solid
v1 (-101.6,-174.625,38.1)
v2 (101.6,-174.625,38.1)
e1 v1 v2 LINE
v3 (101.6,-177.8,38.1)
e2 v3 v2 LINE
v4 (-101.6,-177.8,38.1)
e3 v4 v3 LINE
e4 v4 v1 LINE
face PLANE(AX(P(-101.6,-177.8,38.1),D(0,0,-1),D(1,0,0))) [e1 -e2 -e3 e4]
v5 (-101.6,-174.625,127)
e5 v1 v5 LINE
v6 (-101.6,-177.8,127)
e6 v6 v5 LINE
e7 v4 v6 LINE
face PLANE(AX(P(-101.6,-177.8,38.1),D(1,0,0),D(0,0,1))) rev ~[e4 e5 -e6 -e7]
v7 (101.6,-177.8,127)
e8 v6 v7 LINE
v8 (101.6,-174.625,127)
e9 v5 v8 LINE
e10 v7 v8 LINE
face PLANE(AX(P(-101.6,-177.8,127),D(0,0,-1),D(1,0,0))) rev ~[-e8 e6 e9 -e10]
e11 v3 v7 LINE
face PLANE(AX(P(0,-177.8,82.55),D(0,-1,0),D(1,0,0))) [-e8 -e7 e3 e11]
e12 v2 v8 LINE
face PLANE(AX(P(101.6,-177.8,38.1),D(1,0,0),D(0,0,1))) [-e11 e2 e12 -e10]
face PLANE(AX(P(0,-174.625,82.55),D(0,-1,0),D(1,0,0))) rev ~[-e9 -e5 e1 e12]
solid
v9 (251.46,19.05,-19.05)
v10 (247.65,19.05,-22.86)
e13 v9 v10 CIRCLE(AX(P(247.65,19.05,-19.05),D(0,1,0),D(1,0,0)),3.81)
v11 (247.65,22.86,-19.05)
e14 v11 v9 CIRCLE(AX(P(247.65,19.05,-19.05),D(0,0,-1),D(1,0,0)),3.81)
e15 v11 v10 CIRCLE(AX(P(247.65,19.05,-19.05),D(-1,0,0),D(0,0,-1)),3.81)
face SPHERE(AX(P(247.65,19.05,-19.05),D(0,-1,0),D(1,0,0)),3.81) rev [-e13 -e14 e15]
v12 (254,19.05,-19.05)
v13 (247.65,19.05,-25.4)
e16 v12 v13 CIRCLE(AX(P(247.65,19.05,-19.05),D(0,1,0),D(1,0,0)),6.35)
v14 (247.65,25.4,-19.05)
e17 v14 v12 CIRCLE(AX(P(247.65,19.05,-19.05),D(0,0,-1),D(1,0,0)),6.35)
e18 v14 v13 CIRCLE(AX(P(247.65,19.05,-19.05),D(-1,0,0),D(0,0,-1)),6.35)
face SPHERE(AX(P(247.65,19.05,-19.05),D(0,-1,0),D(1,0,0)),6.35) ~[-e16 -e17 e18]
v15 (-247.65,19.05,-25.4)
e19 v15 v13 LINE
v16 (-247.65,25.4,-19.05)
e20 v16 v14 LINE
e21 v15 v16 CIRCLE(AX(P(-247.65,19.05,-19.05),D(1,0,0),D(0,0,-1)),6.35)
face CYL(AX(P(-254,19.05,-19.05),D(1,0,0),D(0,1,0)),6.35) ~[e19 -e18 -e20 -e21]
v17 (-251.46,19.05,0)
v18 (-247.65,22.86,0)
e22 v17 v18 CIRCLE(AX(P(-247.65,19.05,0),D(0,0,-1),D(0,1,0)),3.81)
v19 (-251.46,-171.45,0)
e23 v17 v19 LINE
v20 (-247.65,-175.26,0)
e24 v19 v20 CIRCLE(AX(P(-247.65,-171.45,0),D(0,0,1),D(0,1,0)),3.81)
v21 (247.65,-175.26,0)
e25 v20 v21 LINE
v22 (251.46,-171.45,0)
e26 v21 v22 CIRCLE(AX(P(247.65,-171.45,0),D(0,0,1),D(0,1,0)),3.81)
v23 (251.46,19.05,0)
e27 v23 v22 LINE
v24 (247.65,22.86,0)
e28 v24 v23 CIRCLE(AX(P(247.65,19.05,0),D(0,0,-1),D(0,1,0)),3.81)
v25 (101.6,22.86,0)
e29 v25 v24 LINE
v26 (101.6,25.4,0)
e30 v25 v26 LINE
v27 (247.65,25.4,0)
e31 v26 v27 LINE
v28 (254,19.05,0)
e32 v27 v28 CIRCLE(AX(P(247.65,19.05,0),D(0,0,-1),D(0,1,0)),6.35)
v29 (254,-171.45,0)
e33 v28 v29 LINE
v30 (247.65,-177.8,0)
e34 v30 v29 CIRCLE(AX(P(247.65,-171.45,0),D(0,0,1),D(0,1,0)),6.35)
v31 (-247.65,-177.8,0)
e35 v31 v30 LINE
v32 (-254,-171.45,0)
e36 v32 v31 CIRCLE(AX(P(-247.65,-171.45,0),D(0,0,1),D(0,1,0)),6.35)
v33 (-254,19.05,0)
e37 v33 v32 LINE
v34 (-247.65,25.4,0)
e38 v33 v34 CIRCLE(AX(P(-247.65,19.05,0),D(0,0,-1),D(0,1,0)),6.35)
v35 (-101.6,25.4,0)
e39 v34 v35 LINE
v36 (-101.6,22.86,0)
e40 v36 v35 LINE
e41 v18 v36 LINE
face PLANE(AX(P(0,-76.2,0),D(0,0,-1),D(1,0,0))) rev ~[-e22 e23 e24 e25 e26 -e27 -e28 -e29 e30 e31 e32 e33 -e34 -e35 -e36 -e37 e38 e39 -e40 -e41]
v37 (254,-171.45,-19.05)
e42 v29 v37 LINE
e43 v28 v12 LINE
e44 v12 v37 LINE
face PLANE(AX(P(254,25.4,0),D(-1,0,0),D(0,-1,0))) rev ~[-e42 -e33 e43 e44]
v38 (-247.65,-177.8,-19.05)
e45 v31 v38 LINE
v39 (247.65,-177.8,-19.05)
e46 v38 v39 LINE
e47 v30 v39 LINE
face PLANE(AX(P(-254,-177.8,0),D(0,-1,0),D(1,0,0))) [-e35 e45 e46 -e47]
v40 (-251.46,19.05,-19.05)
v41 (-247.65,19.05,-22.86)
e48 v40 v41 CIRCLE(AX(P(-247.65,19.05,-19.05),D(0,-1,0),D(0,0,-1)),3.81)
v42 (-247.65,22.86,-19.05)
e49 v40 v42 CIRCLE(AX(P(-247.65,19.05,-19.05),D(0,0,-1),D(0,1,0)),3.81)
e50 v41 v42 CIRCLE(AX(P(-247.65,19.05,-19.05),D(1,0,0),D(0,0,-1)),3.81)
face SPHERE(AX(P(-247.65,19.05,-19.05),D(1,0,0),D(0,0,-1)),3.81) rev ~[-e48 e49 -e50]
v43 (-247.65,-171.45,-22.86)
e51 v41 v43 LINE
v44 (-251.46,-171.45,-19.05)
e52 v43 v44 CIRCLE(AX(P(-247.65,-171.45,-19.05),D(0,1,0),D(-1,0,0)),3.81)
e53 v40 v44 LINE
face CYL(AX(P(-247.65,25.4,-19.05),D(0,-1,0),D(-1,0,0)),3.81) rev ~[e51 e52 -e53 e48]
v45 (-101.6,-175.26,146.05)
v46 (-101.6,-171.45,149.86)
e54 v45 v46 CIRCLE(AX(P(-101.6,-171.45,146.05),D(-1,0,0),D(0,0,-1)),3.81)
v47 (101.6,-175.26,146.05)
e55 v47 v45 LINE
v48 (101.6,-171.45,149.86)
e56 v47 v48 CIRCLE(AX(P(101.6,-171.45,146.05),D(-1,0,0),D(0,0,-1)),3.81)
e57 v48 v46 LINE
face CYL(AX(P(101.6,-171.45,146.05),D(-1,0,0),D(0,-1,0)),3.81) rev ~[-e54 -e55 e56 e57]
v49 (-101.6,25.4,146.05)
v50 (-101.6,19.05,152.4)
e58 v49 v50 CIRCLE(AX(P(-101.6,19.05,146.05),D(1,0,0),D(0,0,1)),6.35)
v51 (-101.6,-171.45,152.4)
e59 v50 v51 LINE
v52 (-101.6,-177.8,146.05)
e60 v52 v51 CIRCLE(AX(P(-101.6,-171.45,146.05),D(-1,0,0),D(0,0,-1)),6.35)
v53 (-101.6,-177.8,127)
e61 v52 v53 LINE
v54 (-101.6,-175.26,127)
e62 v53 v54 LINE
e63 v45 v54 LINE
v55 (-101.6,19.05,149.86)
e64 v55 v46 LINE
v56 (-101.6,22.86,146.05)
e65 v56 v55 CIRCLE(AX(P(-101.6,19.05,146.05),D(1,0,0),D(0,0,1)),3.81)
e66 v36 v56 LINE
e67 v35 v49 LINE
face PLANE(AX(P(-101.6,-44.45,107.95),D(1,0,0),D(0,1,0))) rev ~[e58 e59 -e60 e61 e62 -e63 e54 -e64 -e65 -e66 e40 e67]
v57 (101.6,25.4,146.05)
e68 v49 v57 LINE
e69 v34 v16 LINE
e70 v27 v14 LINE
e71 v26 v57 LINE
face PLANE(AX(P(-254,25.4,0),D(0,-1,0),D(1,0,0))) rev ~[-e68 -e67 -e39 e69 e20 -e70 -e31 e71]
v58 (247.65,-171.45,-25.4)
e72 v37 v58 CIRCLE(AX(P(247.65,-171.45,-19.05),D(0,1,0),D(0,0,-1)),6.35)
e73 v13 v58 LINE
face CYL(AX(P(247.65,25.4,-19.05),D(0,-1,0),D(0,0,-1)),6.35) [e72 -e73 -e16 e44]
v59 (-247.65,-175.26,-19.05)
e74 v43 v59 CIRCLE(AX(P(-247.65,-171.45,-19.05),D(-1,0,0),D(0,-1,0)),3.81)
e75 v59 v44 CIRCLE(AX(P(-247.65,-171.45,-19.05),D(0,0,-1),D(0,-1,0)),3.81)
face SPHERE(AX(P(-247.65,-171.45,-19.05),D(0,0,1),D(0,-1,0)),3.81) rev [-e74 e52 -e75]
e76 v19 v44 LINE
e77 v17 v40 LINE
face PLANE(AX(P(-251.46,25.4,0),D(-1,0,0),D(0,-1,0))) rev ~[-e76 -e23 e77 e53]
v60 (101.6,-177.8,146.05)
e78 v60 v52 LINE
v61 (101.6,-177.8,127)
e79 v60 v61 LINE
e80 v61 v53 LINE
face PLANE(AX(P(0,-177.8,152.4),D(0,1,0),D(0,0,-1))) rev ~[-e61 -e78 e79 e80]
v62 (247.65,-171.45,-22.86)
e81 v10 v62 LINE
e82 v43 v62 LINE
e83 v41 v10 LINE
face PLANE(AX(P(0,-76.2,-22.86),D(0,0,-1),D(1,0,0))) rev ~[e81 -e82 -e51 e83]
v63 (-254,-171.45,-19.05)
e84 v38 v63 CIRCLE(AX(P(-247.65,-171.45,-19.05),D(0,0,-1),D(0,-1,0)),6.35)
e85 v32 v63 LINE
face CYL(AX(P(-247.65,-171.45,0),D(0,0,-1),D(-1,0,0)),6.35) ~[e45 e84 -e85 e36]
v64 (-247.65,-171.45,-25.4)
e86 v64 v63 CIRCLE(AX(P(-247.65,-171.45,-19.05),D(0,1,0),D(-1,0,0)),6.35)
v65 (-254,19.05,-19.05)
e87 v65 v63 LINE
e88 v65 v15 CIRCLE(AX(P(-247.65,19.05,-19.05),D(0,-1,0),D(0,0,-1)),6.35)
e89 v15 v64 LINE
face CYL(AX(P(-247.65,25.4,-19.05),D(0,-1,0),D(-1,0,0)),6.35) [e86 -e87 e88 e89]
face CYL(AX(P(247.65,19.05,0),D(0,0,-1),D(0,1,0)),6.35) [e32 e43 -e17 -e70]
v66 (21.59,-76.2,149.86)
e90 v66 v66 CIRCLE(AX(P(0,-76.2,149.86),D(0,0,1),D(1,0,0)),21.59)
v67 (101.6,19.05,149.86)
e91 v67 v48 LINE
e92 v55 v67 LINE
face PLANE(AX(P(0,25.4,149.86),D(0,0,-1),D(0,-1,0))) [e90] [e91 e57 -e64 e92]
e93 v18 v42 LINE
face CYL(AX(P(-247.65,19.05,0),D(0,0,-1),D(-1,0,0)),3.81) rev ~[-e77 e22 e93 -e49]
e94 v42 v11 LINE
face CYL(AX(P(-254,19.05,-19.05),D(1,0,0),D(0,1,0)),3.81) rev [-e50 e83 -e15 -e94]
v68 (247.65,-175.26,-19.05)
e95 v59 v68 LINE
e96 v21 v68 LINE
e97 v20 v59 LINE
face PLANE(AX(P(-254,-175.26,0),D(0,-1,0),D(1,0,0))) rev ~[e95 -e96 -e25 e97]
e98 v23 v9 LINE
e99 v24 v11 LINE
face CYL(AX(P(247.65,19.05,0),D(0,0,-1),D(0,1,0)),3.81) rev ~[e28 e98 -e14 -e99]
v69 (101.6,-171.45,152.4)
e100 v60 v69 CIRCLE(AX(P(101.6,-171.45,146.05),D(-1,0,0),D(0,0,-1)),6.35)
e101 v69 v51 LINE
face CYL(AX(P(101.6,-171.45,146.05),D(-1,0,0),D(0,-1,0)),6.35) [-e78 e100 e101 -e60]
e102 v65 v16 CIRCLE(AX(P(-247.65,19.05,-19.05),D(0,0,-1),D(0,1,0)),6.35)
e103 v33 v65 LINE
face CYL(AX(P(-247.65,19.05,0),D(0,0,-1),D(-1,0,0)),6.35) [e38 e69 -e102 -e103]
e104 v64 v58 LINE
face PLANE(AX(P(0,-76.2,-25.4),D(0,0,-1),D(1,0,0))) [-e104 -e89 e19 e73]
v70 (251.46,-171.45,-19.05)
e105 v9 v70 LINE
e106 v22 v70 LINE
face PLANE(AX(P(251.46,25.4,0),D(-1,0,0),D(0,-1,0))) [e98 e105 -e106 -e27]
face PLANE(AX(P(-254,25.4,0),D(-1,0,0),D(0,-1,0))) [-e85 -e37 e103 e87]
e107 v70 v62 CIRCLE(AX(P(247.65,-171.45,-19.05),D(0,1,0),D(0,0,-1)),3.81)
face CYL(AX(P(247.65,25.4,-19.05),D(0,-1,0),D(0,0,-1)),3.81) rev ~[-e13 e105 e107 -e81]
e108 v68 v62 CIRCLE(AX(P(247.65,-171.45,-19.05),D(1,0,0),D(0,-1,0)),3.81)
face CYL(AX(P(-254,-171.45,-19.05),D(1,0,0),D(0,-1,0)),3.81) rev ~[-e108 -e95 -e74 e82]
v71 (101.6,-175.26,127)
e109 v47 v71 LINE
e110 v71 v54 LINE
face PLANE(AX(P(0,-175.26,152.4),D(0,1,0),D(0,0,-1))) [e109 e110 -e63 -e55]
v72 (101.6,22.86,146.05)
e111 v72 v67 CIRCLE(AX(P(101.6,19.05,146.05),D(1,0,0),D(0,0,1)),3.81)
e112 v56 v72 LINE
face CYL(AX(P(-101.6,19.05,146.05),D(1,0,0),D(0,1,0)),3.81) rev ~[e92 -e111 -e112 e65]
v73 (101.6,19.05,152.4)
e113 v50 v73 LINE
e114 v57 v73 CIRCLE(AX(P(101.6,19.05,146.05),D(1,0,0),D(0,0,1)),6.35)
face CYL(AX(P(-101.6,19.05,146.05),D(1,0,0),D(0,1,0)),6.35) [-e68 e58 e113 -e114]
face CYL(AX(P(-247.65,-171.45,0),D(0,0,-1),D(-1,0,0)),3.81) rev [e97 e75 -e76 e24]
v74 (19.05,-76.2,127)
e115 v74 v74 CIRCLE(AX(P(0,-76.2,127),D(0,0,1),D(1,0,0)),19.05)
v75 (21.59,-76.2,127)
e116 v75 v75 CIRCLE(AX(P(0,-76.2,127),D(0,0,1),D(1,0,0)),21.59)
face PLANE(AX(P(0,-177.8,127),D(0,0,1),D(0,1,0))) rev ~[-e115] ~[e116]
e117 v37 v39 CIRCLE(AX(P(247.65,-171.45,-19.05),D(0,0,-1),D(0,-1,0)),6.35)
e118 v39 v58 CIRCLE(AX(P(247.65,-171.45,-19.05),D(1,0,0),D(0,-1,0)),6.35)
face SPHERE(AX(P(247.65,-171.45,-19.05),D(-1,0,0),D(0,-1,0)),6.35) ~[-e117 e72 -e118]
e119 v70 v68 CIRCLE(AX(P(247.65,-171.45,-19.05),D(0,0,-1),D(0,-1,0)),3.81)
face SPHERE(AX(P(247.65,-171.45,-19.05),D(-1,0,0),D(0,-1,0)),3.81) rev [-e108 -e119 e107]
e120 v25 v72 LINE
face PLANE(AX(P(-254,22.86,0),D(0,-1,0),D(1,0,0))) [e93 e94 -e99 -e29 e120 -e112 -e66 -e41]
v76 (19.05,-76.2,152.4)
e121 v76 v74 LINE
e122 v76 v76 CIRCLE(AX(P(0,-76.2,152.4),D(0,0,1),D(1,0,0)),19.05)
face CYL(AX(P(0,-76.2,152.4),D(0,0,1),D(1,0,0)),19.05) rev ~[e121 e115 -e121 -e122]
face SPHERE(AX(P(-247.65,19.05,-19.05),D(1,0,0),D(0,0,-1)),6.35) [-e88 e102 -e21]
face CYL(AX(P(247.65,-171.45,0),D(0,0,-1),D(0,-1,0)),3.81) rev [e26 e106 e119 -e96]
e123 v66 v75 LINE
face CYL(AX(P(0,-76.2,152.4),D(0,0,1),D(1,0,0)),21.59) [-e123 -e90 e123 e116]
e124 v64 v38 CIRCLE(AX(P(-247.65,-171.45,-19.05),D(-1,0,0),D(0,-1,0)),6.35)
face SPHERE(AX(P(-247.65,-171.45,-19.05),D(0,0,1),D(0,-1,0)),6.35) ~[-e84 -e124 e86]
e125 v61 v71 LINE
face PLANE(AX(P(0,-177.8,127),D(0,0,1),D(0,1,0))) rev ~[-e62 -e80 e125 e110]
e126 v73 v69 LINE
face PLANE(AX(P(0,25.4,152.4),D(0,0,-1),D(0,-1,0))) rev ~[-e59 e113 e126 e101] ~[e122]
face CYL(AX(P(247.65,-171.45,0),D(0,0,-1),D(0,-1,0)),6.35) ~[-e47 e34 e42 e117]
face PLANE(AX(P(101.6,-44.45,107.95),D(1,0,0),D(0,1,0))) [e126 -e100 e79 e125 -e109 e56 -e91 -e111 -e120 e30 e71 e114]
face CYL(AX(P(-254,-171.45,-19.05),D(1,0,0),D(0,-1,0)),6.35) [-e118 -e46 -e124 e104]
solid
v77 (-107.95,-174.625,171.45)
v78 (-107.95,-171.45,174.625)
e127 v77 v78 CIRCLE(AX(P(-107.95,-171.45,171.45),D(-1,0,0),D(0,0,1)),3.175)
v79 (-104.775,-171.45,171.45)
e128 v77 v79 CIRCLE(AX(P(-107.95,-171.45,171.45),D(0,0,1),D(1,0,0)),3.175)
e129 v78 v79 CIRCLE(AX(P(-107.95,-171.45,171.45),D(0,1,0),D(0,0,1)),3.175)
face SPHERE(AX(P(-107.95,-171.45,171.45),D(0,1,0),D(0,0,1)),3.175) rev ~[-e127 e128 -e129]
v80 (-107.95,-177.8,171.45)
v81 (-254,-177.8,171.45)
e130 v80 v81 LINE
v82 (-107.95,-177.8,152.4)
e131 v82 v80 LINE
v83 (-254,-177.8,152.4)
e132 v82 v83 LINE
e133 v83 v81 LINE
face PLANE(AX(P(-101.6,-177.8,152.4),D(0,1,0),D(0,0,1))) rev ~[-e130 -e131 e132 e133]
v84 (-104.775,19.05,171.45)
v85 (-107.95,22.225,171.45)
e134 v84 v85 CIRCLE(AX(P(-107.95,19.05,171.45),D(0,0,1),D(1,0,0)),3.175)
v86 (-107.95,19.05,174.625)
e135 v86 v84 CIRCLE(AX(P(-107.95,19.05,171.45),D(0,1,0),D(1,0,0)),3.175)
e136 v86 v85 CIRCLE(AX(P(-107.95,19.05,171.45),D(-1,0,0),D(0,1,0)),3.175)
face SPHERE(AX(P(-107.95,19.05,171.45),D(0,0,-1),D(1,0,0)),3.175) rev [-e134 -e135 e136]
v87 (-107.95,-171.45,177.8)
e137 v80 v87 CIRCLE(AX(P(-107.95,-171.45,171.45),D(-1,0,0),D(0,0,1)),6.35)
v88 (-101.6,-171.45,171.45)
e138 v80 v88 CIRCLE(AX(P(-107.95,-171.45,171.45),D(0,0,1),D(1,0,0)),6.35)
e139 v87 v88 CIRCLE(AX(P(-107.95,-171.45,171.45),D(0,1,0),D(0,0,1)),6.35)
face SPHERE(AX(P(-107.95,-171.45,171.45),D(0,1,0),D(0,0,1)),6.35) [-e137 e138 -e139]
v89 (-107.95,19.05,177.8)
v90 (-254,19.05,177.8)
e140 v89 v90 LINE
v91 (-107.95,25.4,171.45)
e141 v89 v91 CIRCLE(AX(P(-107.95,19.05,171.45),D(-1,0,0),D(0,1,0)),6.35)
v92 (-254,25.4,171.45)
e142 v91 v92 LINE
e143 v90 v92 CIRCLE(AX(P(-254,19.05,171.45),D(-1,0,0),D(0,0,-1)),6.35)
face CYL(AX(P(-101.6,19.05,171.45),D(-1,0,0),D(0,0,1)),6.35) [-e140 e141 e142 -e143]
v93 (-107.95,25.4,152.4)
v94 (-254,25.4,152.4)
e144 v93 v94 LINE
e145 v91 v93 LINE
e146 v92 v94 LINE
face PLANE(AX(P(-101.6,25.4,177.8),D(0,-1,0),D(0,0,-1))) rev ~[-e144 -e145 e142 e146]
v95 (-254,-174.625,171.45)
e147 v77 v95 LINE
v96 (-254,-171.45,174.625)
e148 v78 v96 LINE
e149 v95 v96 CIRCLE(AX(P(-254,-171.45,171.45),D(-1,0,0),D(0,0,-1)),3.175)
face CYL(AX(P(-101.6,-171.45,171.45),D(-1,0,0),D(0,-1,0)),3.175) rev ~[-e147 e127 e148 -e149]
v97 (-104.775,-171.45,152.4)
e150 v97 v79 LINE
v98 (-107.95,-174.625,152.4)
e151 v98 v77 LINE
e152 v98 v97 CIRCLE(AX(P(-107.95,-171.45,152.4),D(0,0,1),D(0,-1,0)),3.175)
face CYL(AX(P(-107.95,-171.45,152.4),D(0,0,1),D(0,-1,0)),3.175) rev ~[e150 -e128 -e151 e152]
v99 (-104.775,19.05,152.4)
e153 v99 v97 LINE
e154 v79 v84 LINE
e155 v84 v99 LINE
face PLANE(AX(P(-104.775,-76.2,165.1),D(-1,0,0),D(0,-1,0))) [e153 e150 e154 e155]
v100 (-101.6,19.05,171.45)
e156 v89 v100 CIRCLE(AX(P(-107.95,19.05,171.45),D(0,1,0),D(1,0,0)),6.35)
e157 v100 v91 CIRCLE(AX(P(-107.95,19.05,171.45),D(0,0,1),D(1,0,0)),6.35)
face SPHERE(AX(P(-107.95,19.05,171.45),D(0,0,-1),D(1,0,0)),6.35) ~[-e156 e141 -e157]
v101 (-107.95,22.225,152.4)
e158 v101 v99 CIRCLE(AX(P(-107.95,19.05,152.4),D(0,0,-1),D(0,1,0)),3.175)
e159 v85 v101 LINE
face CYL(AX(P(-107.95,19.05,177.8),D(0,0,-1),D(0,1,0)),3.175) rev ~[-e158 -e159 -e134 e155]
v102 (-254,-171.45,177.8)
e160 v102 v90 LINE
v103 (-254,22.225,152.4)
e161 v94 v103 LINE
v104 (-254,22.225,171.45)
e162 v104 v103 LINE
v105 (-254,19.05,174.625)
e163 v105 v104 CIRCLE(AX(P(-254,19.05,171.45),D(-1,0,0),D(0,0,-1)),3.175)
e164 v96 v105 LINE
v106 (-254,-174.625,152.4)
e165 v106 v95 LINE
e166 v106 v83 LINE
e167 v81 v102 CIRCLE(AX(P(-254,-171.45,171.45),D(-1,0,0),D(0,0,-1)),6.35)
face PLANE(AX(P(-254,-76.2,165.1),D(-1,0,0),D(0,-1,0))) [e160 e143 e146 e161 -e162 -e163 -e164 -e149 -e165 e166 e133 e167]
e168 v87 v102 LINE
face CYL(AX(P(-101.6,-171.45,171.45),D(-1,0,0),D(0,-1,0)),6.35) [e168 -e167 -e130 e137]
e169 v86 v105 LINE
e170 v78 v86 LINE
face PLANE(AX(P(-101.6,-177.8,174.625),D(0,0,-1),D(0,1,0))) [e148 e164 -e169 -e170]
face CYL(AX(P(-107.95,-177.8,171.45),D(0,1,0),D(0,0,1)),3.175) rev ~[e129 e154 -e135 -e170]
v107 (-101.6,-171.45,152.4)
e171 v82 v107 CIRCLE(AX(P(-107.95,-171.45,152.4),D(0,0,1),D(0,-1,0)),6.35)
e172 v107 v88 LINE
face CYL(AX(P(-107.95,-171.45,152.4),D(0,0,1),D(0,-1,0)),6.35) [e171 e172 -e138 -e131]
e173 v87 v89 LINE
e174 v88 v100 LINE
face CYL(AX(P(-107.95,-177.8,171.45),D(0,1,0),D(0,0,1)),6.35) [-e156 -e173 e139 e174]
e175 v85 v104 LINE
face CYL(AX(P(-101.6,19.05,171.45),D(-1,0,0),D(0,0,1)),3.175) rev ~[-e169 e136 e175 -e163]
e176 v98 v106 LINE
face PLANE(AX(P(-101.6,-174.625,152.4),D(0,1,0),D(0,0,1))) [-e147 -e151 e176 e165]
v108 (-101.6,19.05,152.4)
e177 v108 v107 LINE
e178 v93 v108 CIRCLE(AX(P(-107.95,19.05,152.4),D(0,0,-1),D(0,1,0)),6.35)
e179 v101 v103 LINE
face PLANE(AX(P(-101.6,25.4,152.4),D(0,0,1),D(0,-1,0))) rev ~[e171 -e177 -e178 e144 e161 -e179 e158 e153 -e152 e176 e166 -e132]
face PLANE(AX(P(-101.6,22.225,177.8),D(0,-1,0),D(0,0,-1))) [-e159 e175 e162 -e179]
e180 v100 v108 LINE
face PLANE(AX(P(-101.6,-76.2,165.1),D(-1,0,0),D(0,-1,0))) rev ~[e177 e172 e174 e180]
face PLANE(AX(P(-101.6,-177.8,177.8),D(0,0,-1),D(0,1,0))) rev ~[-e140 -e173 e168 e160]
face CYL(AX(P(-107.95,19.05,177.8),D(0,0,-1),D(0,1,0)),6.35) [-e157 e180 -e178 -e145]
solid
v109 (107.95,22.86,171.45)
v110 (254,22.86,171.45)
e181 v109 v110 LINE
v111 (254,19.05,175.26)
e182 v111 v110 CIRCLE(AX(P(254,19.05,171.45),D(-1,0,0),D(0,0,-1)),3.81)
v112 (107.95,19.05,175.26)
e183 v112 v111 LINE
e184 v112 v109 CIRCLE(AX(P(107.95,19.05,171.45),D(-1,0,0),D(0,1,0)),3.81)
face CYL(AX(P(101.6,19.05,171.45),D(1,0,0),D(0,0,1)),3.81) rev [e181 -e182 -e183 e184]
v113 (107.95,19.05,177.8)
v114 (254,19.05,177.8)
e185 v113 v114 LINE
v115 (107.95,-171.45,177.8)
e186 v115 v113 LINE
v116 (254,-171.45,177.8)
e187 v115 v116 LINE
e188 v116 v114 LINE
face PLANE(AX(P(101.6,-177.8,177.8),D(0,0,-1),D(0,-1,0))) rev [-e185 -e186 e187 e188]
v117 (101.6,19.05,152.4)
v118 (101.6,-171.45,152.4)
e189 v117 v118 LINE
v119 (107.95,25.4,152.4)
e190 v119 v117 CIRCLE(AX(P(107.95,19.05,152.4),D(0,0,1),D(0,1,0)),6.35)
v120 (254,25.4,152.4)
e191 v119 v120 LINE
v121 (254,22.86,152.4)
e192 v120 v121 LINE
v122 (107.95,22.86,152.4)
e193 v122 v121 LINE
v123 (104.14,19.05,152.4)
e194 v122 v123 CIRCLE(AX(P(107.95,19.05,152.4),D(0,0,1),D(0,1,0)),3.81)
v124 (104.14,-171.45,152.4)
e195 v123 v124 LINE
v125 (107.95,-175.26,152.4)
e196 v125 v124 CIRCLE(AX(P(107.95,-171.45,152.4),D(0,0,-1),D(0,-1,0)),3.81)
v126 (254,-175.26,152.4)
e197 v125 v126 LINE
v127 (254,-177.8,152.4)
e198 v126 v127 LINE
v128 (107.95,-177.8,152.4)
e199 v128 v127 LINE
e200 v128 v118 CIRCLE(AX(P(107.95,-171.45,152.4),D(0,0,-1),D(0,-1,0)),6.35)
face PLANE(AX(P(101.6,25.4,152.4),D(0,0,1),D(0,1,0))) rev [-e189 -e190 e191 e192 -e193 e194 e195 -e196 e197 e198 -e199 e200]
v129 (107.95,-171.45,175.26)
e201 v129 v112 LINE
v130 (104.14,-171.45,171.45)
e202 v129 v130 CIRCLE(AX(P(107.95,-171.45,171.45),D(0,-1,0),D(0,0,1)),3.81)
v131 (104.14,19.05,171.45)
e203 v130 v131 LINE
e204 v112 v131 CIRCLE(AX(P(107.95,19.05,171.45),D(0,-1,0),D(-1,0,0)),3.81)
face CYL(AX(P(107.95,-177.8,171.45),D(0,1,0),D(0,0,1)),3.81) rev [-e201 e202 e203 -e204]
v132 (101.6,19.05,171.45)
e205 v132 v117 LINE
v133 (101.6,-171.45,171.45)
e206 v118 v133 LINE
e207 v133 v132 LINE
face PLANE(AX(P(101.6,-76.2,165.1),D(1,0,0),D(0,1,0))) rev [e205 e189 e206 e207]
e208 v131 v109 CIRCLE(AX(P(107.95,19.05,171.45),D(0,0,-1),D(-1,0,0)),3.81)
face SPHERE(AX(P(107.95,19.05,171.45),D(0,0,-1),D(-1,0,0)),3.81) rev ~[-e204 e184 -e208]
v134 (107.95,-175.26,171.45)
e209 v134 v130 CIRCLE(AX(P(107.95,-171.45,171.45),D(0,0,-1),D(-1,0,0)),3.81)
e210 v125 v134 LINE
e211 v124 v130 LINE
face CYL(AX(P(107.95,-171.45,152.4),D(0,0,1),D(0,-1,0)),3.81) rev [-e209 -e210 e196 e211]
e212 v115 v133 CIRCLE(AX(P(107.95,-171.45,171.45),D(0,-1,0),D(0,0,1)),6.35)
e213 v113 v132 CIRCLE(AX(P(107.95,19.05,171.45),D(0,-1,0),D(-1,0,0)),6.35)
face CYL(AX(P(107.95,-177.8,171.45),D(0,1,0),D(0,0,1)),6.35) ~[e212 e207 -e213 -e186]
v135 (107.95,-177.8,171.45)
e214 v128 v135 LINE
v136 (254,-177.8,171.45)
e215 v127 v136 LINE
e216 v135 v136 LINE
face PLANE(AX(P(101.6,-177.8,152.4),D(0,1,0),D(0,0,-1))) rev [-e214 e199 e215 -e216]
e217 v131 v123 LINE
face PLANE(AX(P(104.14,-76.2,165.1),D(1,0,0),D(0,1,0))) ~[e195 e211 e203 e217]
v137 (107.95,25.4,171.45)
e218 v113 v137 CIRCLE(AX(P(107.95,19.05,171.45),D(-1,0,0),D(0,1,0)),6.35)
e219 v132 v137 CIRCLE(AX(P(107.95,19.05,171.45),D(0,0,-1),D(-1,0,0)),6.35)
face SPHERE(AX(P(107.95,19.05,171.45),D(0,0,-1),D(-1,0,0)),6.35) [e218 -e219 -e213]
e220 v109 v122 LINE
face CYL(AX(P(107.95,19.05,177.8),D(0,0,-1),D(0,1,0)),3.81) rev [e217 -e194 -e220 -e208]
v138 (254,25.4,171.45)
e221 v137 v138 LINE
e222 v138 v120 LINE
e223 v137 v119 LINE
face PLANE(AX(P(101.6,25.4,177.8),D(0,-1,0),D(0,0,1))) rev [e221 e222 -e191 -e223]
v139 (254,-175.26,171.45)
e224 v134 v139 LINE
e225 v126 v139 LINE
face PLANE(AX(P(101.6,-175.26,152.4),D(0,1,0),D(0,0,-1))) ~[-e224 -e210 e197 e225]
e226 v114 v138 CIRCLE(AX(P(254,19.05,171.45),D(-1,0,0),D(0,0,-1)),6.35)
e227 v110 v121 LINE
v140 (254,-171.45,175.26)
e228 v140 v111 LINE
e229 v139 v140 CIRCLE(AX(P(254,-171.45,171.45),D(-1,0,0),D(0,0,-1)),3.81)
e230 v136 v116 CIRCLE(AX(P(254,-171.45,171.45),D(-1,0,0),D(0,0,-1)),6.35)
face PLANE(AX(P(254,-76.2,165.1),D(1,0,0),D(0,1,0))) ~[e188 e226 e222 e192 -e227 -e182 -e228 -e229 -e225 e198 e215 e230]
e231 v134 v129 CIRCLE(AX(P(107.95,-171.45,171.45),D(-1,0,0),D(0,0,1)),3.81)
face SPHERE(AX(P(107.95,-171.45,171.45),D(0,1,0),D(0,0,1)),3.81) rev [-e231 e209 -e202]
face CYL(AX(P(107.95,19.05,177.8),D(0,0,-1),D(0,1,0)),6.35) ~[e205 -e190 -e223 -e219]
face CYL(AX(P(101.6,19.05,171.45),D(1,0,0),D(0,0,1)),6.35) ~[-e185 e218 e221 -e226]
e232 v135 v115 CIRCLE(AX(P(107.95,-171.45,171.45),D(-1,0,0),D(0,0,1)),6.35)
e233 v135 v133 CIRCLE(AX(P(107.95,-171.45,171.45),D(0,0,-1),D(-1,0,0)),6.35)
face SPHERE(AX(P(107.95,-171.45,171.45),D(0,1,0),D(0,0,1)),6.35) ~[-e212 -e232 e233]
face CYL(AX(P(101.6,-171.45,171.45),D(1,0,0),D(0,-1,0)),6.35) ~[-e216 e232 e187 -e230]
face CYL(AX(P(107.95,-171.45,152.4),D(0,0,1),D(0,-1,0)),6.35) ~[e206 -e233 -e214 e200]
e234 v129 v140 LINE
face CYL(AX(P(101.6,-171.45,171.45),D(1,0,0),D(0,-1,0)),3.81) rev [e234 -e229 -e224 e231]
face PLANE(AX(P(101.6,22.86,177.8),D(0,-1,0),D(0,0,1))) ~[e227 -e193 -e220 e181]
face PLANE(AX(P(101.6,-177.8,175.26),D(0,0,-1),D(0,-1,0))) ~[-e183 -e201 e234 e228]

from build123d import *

# Parameters (mm, degrees)
F1_DEPTH      = 101.6
F1_DEPTH_BACK = 101.6
F2_R          = 19.05
F3_DEPTH      = 25.4
F4_R          = 6.35
F6_DEPTH      = 152.4
F7_R          = 6.35
F9_W          = 508
F9_H          = 203.2
F10_DEPTH     = 25.4
F11_R         = 6.35
F12_T         = -3.175
F13_T         = -2.54
F14_T         = -2.54
F15_W         = 203.2
F15_H         = 88.9
F16_DEPTH     = 3.175


with BuildPart() as f1:
    # F0 (on Right) → F1 (new body, two sides)
    with BuildSketch(Plane.YZ) as f1_sk:
        Polygon((0, 127), (0, 0), (25.4, 0), (25.4, 152.4), (-177.8, 152.4), (-177.8, 127), align=None)
    extrude(amount=-F1_DEPTH)
    extrude(f1_sk.sketch, amount=F1_DEPTH_BACK)

    # F2 (on face) → F3 (cut)
    with BuildSketch(Plane.XY.offset(152.4)):
        with Locations((0, -76.2)):
            Circle(F2_R)
    extrude(amount=-F3_DEPTH, mode=Mode.SUBTRACT)

    # F4
    f4_edges = [f1.edges().sort_by_distance(p)[0] for p in [
        (0, 25.4, 152.4),
        (0, -177.8, 152.4),
    ]]
    fillet(f4_edges, radius=F4_R)

    # F9 (on face) → F10 (join)
    with BuildSketch(Plane(origin=(0, 0, 0), x_dir=(1, 0, 0), z_dir=(0, 0, -1))):
        with Locations((0, 76.2)):
            Rectangle(F9_W, F9_H)
    extrude(amount=F10_DEPTH)

    # F11
    f11_edges = [f1.edges().sort_by_distance(p)[0] for p in [
        (-254, -177.8, -12.7),
        (0, -177.8, -25.4),
        (254, -177.8, -12.7),
        (254, -76.2, -25.4),
        (254, 25.4, -12.7),
        (0, 25.4, -25.4),
        (-254, -76.2, -25.4),
        (-254, 25.4, -12.7),
    ]]
    fillet(f11_edges, radius=F11_R)

    # F14
    f14_openings = [f1.faces().sort_by_distance(p)[0] for p in [
        (0, -80.880599, 0),
        (0, 0, 63.5),
        (-98.899943, -88.9, 127),
        (-101.6, 22.86, 73.025),
        (101.6, 22.86, 73.025),
    ]]
    offset(amount=F14_T, openings=f14_openings)


with BuildPart() as f6:
    # F5 (on face) → F6 (new body)
    with BuildSketch(Plane(origin=(-101.6, 0, 0), x_dir=(0, -1, 0), z_dir=(-1, 0, 0))):
        Polygon((171.45, 152.4), (177.8, 152.4), (177.8, 177.8), (-25.4, 177.8), (-25.4, 152.4), (-19.05, 152.4), align=None)
    extrude(amount=F6_DEPTH)

    # F7
    f7_edges = [f6.edges().sort_by_distance(p)[0] for p in [
        (-101.6, 25.4, 165.1),
        (-101.6, -76.2, 177.8),
        (-177.8, 25.4, 177.8),
        (-177.8, -177.8, 177.8),
        (-101.6, -177.8, 165.1),
    ]]
    fillet(f7_edges, radius=F7_R)


with BuildPart() as f8_1:
    # F8: instance of F6
    add(f6.part.mirror(Plane.YZ))

    # F13
    f13_openings = [f8_1.faces().sort_by_distance(p)[0] for p in [
        (254, -76.2, 165.062044),
        (177.841816, -76.2, 152.4),
    ]]
    offset(amount=F13_T, openings=f13_openings)


with BuildPart() as f6_1:
    add(f6.part)

    # F12
    f12_openings = [f6_1.faces().sort_by_distance(p)[0] for p in [
        (-254, -76.2, 165.062044),
        (-177.841816, -76.2, 152.4),
    ]]
    offset(amount=F12_T, openings=f12_openings)


with BuildPart() as f16:
    # F15 (on face) → F16 (new body)
    with BuildSketch(Plane.XZ.offset(177.8)):
        with Locations((0, 82.55)):
            Rectangle(F15_W, F15_H)
    extrude(amount=-F16_DEPTH)


solid = Compound([f1.part, f8_1.part, f6_1.part, f16.part])
